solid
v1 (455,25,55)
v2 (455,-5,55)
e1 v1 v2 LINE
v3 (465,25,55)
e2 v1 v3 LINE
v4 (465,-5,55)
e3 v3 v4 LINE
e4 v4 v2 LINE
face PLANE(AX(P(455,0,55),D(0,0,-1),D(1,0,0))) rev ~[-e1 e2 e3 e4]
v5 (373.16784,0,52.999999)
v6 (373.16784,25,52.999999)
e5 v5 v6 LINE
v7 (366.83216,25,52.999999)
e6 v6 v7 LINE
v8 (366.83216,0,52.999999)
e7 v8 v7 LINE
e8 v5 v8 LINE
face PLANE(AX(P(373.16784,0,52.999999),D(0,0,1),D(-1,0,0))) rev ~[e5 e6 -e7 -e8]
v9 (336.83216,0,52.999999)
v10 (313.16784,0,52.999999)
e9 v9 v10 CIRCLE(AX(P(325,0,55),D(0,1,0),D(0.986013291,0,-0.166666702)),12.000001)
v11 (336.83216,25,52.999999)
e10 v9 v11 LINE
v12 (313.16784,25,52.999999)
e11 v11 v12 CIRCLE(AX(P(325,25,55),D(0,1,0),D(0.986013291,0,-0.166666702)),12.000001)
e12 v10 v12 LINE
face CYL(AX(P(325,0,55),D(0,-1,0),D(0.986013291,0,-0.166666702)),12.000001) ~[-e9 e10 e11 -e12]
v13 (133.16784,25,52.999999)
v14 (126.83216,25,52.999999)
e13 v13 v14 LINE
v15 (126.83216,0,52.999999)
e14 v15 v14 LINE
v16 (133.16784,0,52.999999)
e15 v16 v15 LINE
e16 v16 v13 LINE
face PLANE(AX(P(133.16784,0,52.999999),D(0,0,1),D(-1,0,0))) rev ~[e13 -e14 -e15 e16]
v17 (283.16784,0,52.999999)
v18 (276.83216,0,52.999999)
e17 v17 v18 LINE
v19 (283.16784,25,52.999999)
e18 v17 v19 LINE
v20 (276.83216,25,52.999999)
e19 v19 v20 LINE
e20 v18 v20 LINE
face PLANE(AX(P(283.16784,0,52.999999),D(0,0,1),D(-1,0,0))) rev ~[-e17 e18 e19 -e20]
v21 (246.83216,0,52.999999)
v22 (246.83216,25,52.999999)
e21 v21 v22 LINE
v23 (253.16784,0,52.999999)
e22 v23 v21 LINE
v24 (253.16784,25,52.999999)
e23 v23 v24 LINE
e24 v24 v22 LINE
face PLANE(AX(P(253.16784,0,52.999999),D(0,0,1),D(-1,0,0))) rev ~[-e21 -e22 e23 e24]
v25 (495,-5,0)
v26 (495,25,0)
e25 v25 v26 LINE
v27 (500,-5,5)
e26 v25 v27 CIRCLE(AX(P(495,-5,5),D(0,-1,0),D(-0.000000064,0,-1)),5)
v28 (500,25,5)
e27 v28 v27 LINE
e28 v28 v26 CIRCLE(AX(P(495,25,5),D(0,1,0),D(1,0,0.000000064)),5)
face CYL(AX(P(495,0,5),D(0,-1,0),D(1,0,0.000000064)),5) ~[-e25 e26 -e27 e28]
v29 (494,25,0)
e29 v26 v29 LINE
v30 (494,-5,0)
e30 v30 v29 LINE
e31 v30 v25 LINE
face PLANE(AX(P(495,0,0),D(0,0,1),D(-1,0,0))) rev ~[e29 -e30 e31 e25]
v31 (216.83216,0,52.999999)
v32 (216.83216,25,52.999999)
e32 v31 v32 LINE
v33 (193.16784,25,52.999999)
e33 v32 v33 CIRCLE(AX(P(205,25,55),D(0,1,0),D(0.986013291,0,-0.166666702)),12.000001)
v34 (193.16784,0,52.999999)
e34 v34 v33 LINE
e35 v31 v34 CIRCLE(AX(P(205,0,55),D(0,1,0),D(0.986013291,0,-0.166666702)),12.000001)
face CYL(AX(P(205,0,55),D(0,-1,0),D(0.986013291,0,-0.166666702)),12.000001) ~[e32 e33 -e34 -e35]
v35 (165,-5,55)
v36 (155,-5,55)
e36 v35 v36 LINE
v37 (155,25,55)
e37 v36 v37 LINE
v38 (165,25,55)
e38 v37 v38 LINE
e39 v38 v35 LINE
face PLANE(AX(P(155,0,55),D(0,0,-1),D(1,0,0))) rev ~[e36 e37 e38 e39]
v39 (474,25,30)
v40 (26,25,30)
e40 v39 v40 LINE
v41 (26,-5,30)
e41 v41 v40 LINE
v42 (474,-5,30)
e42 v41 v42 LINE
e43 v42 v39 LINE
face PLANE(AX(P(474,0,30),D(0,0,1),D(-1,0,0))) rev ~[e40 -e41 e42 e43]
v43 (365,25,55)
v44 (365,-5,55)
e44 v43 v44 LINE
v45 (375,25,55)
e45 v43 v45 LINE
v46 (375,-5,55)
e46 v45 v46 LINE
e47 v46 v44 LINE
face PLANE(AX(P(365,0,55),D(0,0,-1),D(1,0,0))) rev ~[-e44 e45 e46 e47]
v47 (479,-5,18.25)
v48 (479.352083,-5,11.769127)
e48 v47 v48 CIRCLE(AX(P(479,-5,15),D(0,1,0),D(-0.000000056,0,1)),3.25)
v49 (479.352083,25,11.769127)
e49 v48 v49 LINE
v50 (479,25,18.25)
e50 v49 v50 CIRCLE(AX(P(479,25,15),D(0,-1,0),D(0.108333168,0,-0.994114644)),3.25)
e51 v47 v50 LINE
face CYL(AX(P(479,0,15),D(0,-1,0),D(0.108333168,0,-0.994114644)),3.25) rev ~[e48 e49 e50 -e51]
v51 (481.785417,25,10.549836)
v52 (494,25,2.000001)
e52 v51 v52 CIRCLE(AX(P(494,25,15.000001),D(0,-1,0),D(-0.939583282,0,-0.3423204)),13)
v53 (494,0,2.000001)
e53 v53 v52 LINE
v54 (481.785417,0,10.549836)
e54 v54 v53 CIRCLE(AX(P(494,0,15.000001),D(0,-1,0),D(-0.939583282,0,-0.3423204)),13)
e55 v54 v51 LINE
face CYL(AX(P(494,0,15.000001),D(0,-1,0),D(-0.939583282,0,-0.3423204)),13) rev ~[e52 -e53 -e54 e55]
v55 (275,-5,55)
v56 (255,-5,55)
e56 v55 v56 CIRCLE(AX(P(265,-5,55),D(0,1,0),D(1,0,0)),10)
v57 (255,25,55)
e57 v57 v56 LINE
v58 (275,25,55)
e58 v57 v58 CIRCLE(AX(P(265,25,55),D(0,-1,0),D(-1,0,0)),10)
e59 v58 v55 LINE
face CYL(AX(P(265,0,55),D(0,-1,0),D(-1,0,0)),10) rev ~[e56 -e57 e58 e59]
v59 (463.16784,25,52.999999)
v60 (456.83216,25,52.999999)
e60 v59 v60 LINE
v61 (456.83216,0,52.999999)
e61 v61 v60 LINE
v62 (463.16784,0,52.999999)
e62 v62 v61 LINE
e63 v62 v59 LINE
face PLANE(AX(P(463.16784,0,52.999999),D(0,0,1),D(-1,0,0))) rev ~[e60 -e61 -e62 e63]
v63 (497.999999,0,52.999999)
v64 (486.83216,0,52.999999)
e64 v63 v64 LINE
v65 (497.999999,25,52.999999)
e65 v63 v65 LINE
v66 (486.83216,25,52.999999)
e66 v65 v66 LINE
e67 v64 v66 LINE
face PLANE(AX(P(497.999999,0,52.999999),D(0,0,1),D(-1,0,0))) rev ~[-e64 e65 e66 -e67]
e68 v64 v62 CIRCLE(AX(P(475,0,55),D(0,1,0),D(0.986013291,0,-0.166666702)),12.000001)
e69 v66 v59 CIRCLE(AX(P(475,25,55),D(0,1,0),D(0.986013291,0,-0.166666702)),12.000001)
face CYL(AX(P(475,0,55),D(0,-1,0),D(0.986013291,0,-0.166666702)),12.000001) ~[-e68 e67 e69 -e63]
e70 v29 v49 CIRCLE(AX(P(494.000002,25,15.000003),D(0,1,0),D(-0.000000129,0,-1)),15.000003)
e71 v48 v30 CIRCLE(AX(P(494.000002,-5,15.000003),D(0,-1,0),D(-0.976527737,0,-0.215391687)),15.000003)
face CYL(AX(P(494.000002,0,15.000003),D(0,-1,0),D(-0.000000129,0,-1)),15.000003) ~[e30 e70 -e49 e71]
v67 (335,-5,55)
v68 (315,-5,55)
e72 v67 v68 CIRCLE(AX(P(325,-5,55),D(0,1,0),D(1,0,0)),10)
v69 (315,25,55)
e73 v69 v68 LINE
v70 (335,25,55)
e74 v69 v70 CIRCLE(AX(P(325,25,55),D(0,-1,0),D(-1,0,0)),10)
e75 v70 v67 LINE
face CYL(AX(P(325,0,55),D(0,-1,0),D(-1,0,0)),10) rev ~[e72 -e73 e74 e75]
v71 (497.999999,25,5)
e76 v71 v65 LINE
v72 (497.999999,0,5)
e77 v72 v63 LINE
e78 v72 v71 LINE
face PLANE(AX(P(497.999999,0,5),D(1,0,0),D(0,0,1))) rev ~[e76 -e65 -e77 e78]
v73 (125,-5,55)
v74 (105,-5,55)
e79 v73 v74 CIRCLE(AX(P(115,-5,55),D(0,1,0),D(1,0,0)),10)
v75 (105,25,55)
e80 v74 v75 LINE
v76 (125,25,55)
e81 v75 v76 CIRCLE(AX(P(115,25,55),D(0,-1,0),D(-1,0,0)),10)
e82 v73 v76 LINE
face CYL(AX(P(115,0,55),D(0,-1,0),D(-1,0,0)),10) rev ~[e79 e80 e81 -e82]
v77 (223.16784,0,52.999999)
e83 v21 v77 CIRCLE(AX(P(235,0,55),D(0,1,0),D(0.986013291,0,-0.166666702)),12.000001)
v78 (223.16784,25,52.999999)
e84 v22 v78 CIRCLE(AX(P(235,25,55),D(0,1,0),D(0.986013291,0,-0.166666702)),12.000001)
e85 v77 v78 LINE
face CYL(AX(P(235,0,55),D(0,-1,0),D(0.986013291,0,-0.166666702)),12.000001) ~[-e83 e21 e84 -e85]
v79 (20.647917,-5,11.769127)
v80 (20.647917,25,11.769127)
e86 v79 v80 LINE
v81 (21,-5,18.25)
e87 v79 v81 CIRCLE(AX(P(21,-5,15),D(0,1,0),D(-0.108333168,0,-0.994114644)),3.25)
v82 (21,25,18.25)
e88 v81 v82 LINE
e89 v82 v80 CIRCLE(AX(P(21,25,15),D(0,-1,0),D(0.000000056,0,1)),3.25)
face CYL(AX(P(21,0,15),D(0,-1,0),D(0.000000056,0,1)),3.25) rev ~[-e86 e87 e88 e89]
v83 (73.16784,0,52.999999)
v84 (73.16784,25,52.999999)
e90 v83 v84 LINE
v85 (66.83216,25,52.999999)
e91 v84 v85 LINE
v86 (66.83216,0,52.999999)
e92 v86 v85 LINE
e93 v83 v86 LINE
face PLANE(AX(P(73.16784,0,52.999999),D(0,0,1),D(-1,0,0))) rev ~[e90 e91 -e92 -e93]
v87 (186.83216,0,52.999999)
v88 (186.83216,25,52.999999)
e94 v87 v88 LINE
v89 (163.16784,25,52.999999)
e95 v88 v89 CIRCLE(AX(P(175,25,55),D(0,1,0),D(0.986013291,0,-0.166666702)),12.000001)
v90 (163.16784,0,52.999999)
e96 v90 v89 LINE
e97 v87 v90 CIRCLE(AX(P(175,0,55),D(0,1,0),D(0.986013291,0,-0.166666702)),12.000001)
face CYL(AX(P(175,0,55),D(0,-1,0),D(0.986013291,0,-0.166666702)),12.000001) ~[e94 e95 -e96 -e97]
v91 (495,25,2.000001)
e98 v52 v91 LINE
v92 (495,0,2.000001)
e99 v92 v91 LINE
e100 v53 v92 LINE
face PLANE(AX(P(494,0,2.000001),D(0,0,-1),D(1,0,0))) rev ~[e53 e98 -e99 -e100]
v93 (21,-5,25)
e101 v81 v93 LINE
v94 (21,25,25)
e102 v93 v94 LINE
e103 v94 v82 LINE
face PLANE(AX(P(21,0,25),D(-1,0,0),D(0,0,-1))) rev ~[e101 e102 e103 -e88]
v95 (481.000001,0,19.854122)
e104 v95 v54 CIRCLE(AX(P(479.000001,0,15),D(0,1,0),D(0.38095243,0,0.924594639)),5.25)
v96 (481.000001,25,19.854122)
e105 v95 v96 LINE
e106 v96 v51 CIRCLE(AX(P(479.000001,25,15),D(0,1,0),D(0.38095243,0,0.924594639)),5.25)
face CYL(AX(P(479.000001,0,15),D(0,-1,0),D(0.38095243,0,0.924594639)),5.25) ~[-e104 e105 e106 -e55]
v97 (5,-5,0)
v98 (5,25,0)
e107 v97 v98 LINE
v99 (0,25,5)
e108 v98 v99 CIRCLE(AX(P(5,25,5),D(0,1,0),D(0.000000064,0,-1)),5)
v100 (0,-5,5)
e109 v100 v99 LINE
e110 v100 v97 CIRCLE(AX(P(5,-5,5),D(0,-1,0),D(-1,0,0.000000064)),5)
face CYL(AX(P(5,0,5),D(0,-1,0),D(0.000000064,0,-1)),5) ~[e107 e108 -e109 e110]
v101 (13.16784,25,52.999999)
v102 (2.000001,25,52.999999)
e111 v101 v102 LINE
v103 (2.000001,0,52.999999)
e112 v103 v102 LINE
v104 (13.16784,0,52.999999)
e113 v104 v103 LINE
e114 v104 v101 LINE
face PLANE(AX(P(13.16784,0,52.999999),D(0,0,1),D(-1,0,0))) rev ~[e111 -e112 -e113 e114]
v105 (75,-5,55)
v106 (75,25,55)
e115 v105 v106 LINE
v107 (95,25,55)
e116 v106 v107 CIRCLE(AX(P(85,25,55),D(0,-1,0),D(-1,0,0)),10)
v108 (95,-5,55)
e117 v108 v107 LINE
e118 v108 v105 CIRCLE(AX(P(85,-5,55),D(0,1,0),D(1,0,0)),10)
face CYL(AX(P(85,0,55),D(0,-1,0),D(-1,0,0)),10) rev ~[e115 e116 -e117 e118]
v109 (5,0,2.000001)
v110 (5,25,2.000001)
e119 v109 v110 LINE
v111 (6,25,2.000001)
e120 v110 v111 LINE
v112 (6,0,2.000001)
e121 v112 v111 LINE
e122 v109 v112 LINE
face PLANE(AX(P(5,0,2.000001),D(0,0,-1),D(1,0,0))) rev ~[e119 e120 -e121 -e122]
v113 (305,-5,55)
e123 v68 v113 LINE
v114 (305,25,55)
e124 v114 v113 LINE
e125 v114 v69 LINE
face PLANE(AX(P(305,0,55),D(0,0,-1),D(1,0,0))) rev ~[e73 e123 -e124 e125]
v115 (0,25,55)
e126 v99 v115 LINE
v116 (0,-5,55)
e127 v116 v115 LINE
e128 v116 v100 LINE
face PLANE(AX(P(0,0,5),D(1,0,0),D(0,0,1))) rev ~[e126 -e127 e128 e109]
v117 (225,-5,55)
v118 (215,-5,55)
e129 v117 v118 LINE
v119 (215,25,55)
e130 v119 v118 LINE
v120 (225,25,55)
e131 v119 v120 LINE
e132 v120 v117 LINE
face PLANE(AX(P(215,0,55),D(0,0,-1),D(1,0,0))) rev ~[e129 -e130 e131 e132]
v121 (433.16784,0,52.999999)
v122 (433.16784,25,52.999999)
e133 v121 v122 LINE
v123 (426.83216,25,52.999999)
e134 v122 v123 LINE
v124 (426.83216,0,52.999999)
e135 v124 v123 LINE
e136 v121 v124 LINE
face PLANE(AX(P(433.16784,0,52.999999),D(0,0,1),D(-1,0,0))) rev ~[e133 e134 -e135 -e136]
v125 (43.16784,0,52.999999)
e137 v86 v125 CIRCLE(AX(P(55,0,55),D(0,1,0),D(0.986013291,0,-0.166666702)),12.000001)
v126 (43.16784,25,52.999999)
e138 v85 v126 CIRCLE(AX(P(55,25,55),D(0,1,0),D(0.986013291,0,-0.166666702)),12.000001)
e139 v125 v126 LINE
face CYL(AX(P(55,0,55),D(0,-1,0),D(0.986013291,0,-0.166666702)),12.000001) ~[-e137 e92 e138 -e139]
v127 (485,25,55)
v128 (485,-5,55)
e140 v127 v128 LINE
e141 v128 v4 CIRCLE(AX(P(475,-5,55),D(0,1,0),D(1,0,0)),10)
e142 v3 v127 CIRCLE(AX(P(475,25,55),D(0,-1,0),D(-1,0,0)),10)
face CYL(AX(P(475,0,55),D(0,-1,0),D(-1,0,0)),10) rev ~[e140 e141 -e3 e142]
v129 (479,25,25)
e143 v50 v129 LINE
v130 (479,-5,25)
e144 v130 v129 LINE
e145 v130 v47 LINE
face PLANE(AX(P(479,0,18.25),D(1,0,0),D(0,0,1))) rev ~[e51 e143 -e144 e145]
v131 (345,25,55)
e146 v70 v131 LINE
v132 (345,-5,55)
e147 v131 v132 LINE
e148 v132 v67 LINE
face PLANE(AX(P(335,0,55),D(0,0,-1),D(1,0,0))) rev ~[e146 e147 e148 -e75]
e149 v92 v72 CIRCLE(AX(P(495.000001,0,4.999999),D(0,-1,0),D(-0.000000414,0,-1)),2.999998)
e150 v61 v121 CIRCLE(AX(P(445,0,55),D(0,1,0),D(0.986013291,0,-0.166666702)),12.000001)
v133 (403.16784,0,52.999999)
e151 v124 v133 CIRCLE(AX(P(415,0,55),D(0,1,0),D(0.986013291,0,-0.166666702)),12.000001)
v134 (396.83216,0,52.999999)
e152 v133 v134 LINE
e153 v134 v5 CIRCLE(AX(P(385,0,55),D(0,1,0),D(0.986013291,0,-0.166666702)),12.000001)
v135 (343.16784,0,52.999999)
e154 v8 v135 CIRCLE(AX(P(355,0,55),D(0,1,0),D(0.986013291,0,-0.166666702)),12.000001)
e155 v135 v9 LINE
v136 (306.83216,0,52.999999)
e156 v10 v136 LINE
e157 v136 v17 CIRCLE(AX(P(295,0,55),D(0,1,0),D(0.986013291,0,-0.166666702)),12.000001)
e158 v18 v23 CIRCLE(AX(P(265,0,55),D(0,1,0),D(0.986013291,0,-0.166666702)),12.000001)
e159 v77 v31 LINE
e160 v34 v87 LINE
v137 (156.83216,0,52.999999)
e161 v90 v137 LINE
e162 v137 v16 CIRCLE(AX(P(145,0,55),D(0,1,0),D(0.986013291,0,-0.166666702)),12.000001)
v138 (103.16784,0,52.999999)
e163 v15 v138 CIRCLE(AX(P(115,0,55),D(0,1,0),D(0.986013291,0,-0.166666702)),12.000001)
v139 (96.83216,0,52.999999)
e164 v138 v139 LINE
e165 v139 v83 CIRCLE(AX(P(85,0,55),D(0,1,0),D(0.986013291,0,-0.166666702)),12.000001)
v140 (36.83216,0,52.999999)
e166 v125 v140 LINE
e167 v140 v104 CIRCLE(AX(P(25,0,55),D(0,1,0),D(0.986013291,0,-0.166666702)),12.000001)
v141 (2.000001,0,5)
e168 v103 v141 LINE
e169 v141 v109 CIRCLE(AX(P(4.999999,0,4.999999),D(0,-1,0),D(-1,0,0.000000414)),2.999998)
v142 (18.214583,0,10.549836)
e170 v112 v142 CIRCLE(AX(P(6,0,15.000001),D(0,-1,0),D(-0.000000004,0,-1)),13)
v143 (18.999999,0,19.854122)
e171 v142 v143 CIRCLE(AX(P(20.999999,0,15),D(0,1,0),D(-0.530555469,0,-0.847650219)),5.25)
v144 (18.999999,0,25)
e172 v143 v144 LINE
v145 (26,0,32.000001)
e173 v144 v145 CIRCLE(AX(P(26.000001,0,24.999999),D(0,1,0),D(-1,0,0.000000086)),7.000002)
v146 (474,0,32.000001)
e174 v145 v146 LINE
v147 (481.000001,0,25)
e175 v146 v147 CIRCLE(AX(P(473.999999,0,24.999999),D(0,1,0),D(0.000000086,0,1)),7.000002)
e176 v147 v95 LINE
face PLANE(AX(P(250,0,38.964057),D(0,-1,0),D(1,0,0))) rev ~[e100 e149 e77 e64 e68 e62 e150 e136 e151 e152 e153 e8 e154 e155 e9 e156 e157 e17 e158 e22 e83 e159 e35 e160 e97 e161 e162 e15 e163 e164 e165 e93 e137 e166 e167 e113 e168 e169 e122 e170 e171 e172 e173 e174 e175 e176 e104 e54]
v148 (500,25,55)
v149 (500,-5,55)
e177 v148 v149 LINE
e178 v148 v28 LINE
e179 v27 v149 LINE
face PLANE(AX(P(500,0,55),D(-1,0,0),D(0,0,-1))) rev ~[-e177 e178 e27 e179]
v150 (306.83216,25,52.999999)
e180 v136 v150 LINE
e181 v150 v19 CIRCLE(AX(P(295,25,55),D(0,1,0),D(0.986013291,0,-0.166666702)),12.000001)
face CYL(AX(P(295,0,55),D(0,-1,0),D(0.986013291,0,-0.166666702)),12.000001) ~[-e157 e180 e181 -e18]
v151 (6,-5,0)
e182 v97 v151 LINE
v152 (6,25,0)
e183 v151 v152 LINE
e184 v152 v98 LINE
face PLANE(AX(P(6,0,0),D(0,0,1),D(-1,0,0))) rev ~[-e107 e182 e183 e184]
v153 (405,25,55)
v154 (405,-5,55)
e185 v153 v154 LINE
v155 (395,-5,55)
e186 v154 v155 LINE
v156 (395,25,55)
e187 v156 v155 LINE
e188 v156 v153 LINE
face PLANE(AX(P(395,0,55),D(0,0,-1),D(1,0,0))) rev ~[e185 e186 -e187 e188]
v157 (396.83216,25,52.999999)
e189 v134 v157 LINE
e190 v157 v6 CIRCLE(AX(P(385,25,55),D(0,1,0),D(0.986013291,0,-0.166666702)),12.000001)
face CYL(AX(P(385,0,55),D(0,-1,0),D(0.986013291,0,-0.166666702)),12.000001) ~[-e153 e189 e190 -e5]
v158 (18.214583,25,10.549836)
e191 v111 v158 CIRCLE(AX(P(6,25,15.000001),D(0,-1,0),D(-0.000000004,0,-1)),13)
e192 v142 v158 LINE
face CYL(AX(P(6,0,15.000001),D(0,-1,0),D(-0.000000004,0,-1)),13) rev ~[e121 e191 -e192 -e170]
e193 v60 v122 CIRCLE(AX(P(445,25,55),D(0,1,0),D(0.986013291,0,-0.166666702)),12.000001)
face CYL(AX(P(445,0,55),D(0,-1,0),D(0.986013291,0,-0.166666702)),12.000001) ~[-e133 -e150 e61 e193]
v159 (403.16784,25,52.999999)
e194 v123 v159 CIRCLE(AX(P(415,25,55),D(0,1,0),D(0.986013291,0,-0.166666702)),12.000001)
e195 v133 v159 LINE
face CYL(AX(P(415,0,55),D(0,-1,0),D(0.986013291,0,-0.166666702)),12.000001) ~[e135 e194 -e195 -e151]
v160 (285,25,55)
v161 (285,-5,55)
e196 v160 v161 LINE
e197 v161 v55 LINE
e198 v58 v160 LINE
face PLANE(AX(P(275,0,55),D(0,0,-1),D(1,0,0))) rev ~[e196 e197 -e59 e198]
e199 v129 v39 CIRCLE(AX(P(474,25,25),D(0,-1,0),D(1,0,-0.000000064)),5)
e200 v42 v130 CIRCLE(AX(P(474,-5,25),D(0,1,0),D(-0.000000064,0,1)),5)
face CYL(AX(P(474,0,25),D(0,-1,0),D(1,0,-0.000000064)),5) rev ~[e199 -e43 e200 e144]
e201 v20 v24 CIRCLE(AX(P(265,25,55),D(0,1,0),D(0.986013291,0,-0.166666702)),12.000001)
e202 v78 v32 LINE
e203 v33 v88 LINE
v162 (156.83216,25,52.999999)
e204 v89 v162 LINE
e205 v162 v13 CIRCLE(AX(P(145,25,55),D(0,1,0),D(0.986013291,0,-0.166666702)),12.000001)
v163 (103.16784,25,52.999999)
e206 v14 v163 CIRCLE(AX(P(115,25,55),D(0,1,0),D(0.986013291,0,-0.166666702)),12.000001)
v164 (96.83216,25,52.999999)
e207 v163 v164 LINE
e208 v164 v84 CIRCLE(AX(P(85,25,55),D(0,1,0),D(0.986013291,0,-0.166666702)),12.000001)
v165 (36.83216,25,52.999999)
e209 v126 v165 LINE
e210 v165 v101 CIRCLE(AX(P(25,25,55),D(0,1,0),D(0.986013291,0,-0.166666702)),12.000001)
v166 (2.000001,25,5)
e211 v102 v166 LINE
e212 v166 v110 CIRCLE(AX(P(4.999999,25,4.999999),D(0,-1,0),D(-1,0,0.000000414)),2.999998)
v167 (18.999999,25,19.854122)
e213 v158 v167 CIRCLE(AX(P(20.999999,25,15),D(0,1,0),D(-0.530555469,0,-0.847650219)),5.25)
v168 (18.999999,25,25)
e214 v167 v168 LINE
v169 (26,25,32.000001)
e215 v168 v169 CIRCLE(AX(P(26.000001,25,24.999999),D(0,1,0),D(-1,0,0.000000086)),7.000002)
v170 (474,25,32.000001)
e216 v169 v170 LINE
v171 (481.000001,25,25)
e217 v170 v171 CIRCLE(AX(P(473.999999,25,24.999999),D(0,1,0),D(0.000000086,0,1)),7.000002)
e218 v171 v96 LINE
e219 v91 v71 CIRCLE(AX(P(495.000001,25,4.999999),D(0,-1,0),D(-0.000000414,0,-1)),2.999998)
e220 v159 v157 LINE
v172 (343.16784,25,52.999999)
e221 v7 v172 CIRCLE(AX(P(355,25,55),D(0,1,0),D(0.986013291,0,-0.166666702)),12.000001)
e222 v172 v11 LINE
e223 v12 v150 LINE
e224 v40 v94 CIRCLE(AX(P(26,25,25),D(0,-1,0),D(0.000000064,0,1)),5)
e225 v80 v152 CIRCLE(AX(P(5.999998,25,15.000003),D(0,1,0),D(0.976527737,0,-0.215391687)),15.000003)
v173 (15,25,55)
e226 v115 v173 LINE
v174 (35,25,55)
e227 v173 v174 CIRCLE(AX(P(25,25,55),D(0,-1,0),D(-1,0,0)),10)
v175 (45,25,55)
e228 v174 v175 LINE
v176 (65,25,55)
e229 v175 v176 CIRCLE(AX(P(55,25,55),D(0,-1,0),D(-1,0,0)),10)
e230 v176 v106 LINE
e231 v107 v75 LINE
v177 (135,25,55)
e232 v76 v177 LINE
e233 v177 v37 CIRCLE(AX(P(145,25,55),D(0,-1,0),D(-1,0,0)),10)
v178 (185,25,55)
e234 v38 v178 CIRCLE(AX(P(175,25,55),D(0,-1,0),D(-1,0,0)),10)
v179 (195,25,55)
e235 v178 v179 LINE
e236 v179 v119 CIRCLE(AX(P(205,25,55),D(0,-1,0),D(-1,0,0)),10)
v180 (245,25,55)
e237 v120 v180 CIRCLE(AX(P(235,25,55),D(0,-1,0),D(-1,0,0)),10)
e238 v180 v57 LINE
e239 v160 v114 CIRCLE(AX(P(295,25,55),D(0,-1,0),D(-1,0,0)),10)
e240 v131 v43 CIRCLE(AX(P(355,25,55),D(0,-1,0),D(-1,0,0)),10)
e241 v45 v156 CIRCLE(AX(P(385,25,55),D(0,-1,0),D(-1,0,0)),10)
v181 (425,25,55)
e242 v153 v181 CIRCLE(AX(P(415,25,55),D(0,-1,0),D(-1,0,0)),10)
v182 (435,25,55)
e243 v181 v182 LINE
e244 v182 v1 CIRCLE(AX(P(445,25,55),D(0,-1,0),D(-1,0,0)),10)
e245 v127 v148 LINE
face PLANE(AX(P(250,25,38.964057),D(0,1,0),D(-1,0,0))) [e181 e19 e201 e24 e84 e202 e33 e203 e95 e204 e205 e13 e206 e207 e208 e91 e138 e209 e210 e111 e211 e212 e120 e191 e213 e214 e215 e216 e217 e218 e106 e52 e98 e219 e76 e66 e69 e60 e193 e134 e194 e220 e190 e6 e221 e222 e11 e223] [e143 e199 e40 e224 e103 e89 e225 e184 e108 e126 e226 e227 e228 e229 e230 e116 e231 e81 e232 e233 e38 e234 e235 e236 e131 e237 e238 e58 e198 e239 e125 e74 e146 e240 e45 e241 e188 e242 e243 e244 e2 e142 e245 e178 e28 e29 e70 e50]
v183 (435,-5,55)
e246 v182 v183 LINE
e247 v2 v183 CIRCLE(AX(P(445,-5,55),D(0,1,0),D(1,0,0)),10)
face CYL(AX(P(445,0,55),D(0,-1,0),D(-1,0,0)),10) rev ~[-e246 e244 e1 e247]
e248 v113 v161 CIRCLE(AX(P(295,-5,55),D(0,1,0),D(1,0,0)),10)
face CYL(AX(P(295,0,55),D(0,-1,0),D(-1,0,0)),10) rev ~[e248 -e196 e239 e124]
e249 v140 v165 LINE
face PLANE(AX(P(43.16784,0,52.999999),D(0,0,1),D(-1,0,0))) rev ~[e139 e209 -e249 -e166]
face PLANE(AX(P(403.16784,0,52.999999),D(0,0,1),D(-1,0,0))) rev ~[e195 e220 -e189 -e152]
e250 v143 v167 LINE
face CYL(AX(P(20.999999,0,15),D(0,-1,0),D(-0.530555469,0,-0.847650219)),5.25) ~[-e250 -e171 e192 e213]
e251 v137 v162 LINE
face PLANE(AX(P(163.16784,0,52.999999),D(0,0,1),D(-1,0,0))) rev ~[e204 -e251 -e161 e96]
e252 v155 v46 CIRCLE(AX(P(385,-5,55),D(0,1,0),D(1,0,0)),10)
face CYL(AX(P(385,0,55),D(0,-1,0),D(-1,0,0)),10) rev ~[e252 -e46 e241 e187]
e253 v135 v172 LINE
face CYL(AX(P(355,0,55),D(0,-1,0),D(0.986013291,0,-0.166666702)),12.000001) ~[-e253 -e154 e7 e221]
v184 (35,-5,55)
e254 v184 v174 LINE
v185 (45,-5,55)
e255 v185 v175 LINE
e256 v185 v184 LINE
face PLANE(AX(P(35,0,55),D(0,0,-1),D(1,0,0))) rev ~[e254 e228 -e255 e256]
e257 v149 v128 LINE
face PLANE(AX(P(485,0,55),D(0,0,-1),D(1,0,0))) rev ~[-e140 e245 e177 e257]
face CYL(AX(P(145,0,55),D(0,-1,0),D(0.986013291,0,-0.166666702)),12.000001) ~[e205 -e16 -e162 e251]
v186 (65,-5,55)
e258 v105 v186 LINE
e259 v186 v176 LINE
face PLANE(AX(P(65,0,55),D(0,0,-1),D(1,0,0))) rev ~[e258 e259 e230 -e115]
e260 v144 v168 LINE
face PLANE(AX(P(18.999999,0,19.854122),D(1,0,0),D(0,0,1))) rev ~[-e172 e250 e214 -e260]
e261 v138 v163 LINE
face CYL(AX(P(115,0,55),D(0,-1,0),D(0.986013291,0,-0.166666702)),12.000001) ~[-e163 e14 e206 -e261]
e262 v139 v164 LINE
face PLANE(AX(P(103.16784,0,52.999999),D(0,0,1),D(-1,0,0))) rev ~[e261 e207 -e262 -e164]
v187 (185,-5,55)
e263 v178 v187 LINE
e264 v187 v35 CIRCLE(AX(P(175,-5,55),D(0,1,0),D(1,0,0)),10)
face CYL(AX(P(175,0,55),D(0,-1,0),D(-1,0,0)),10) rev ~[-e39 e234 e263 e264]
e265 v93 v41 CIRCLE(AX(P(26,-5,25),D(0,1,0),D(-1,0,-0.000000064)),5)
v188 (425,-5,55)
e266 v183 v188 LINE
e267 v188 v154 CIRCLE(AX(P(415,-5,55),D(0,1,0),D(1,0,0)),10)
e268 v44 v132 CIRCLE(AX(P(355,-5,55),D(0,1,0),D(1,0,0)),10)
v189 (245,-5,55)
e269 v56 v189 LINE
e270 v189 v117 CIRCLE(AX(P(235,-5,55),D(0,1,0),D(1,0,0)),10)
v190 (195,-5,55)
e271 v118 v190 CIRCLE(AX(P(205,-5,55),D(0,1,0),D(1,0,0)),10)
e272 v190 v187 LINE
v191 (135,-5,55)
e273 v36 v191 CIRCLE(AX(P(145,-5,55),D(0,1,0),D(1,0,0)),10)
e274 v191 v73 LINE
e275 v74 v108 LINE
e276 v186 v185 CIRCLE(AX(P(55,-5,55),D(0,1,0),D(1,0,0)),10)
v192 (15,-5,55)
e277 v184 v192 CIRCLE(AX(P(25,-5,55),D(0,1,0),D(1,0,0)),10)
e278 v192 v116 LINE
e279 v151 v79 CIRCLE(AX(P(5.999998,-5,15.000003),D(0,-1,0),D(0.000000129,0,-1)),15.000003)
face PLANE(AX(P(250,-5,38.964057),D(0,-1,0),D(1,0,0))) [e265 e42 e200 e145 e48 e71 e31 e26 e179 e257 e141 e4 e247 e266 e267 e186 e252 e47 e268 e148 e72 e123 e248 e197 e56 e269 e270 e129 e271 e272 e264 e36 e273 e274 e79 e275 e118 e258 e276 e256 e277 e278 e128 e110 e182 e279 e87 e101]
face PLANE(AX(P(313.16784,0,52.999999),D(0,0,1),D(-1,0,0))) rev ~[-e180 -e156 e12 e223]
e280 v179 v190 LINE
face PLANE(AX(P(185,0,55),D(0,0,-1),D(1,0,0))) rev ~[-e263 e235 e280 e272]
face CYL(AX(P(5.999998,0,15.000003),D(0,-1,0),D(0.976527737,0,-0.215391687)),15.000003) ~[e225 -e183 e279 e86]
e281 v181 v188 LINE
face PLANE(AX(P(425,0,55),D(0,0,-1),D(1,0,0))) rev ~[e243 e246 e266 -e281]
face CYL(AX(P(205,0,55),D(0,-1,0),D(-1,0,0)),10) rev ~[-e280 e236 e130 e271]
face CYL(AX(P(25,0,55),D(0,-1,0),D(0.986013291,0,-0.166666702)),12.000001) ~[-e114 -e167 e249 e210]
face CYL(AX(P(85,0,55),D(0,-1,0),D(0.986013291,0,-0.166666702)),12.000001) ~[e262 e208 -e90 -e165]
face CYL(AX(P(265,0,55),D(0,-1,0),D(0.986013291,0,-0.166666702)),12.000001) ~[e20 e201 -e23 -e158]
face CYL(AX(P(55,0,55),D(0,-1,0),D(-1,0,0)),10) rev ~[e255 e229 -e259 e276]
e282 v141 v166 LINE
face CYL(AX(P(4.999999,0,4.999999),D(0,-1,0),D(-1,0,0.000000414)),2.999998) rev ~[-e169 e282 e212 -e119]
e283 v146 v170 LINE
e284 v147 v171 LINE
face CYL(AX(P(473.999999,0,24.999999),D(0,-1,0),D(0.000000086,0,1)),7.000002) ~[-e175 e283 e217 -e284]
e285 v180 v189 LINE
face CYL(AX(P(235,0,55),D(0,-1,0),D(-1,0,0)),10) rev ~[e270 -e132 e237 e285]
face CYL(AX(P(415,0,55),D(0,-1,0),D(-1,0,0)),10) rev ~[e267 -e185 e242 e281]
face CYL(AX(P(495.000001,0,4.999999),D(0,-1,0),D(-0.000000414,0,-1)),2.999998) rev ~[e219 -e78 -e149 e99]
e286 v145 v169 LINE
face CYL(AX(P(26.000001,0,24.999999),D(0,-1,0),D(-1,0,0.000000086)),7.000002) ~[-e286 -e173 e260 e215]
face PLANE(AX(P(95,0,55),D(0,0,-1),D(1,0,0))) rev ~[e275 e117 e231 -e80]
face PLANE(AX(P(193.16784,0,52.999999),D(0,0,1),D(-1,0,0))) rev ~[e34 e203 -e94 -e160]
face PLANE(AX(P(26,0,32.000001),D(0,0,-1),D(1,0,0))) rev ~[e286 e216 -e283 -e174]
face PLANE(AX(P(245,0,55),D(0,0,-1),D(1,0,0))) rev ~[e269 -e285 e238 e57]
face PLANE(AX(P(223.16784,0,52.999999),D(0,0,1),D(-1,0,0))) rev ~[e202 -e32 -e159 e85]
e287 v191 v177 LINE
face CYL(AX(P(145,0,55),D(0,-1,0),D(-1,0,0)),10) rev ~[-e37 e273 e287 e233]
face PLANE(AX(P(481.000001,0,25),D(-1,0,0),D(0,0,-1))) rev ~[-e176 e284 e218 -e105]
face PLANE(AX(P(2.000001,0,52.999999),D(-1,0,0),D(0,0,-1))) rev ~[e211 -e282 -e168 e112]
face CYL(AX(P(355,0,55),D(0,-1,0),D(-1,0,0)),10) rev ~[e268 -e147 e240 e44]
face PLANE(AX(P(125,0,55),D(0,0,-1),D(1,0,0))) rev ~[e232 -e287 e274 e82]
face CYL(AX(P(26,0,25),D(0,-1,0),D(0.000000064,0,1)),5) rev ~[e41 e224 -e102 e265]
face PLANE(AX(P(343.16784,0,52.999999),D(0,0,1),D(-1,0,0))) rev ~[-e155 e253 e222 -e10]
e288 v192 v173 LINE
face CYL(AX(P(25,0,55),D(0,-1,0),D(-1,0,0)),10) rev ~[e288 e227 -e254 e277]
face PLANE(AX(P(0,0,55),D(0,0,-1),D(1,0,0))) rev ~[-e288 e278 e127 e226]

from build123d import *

# Parameters (mm, degrees)
F1_DEPTH = 5
F3_DEPTH = 25


with BuildPart() as f1:
    # F0 (on Front) → F1 (new body)
    with BuildSketch(Plane.XZ):
        with BuildLine():
            ThreePointArc((0, 5), (1.464466, 1.464466), (5, 0))
            Line((5, 0), (6, 0))
            ThreePointArc((6, 0), (15.395129, 3.306774), (20.647917, 11.769127))
            ThreePointArc((20.647917, 11.769127), (17.754785, 15.176301), (21, 18.25))
            Line((21, 18.25), (21, 25))
            ThreePointArc((21, 25), (22.464466, 28.535534), (26, 30))
            Line((26, 30), (474, 30))
            ThreePointArc((474, 30), (477.535534, 28.535534), (479, 25))
            Line((479, 25), (479, 18.25))
            ThreePointArc((479, 18.25), (482.245215, 15.176301), (479.352083, 11.769127))
            ThreePointArc((479.352083, 11.769127), (484.604871, 3.306774), (494, 0))
            Line((494, 0), (495, 0))
            ThreePointArc((495, 0), (498.535534, 1.464466), (500, 5))
            Line((500, 5), (500, 55))
            Line((500, 55), (485, 55))
            ThreePointArc((485, 55), (475, 45), (465, 55))
            Line((465, 55), (455, 55))
            ThreePointArc((455, 55), (445, 45), (435, 55))
            Line((435, 55), (425, 55))
            ThreePointArc((425, 55), (415, 45), (405, 55))
            Line((405, 55), (395, 55))
            ThreePointArc((395, 55), (385, 45), (375, 55))
            Line((375, 55), (365, 55))
            ThreePointArc((365, 55), (355, 45), (345, 55))
            Line((345, 55), (335, 55))
            ThreePointArc((335, 55), (325, 45), (315, 55))
            Line((315, 55), (305, 55))
            ThreePointArc((305, 55), (295, 45), (285, 55))
            Line((285, 55), (275, 55))
            ThreePointArc((275, 55), (265, 45), (255, 55))
            Line((255, 55), (245, 55))
            ThreePointArc((245, 55), (235, 45), (225, 55))
            Line((225, 55), (215, 55))
            ThreePointArc((215, 55), (205, 45), (195, 55))
            Line((195, 55), (185, 55))
            ThreePointArc((185, 55), (175, 45), (165, 55))
            Line((165, 55), (155, 55))
            ThreePointArc((155, 55), (145, 45), (135, 55))
            Line((135, 55), (125, 55))
            ThreePointArc((125, 55), (115, 45), (105, 55))
            Line((105, 55), (95, 55))
            ThreePointArc((95, 55), (85, 45), (75, 55))
            Line((75, 55), (65, 55))
            ThreePointArc((65, 55), (55, 45), (45, 55))
            Line((45, 55), (35, 55))
            ThreePointArc((35, 55), (25, 45), (15, 55))
            Line((15, 55), (0, 55))
            Line((0, 55), (0, 5))
        make_face()
    extrude(amount=F1_DEPTH)

    # F2 (on face) → F3 (join)
    with BuildSketch(Plane(origin=(0, 0, 0), x_dir=(-1, 0, 0), z_dir=(0, 1, 0))):
        with BuildLine():
            ThreePointArc((-500, 5), (-498.535534, 1.464466), (-495, 0))
            Line((-495, 0), (-494, 0))
            ThreePointArc((-494, 0), (-484.604871, 3.306774), (-479.352083, 11.769127))
            ThreePointArc((-479.352083, 11.769127), (-482.245215, 15.176301), (-479, 18.25))
            Line((-479, 18.25), (-479, 25))
            ThreePointArc((-479, 25), (-477.535534, 28.535534), (-474, 30))
            Line((-474, 30), (-26, 30))
            ThreePointArc((-26, 30), (-22.464466, 28.535534), (-21, 25))
            Line((-21, 25), (-21, 18.25))
            ThreePointArc((-21, 18.25), (-17.754785, 15.176301), (-20.647917, 11.769127))
            ThreePointArc((-20.647917, 11.769127), (-15.395129, 3.306774), (-6, 0))
            Line((-6, 0), (-5, 0))
            ThreePointArc((-5, 0), (-1.464466, 1.464466), (0, 5))
            Line((0, 5), (0, 55))
            Line((0, 55), (-15, 55))
            ThreePointArc((-15, 55), (-25, 45), (-35, 55))
            Line((-35, 55), (-45, 55))
            ThreePointArc((-45, 55), (-55, 45), (-65, 55))
            Line((-65, 55), (-75, 55))
            ThreePointArc((-75, 55), (-85, 45), (-95, 55))
            Line((-95, 55), (-105, 55))
            ThreePointArc((-105, 55), (-115, 45), (-125, 55))
            Line((-125, 55), (-135, 55))
            ThreePointArc((-135, 55), (-145, 45), (-155, 55))
            Line((-155, 55), (-165, 55))
            ThreePointArc((-165, 55), (-175, 45), (-185, 55))
            Line((-185, 55), (-195, 55))
            ThreePointArc((-195, 55), (-205, 45), (-215, 55))
            Line((-215, 55), (-225, 55))
            ThreePointArc((-225, 55), (-235, 45), (-245, 55))
            Line((-245, 55), (-255, 55))
            ThreePointArc((-255, 55), (-265, 45), (-275, 55))
            Line((-275, 55), (-285, 55))
            ThreePointArc((-285, 55), (-295, 45), (-305, 55))
            Line((-305, 55), (-315, 55))
            ThreePointArc((-315, 55), (-325, 45), (-335, 55))
            Line((-335, 55), (-345, 55))
            ThreePointArc((-345, 55), (-355, 45), (-365, 55))
            Line((-365, 55), (-375, 55))
            ThreePointArc((-375, 55), (-385, 45), (-395, 55))
            Line((-395, 55), (-405, 55))
            ThreePointArc((-405, 55), (-415, 45), (-425, 55))
            Line((-425, 55), (-435, 55))
            ThreePointArc((-435, 55), (-445, 45), (-455, 55))
            Line((-455, 55), (-465, 55))
            ThreePointArc((-465, 55), (-475, 45), (-485, 55))
            Line((-485, 55), (-500, 55))
            Line((-500, 55), (-500, 5))
        make_face()
        with BuildLine():
            Line((-343.16784, 52.999999), (-336.83216, 52.999999))
            ThreePointArc((-336.83216, 52.999999), (-325, 42.999999), (-313.16784, 52.999999))
            Line((-313.16784, 52.999999), (-306.83216, 52.999999))
            ThreePointArc((-306.83216, 52.999999), (-295, 42.999999), (-283.16784, 52.999999))
            Line((-283.16784, 52.999999), (-276.83216, 52.999999))
            ThreePointArc((-276.83216, 52.999999), (-265, 42.999999), (-253.16784, 52.999999))
            Line((-253.16784, 52.999999), (-246.83216, 52.999999))
            ThreePointArc((-246.83216, 52.999999), (-235, 42.999999), (-223.16784, 52.999999))
            Line((-223.16784, 52.999999), (-216.83216, 52.999999))
            ThreePointArc((-216.83216, 52.999999), (-205, 42.999999), (-193.16784, 52.999999))
            Line((-193.16784, 52.999999), (-186.83216, 52.999999))
            ThreePointArc((-186.83216, 52.999999), (-175, 42.999999), (-163.16784, 52.999999))
            Line((-163.16784, 52.999999), (-156.83216, 52.999999))
            ThreePointArc((-156.83216, 52.999999), (-145, 42.999999), (-133.16784, 52.999999))
            Line((-133.16784, 52.999999), (-126.83216, 52.999999))
            ThreePointArc((-126.83216, 52.999999), (-115, 42.999999), (-103.16784, 52.999999))
            Line((-103.16784, 52.999999), (-96.83216, 52.999999))
            ThreePointArc((-96.83216, 52.999999), (-85, 42.999999), (-73.16784, 52.999999))
            Line((-73.16784, 52.999999), (-66.83216, 52.999999))
            ThreePointArc((-66.83216, 52.999999), (-55, 42.999999), (-43.16784, 52.999999))
            Line((-43.16784, 52.999999), (-36.83216, 52.999999))
            ThreePointArc((-36.83216, 52.999999), (-25, 42.999999), (-13.16784, 52.999999))
            Line((-13.16784, 52.999999), (-2.000001, 52.999999))
            Line((-2.000001, 52.999999), (-2.000001, 5))
            ThreePointArc((-2.000001, 5), (-2.87868, 2.87868), (-5, 2.000001))
            Line((-5, 2.000001), (-6, 2.000001))
            ThreePointArc((-6, 2.000001), (-13.454792, 4.349833), (-18.214583, 10.549836))
            ThreePointArc((-18.214583, 10.549836), (-15.768605, 15.441606), (-18.999999, 19.854122))
            Line((-18.999999, 19.854122), (-18.999999, 25))
            ThreePointArc((-18.999999, 25), (-21.050252, 29.949748), (-26, 32.000001))
            Line((-26, 32.000001), (-474, 32.000001))
            ThreePointArc((-474, 32.000001), (-478.949748, 29.949748), (-481.000001, 25))
            Line((-481.000001, 25), (-481.000001, 19.854122))
            ThreePointArc((-481.000001, 19.854122), (-484.231395, 15.441606), (-481.785417, 10.549836))
            ThreePointArc((-481.785417, 10.549836), (-486.545208, 4.349833), (-494, 2.000001))
            Line((-494, 2.000001), (-495, 2.000001))
            ThreePointArc((-495, 2.000001), (-497.12132, 2.87868), (-497.999999, 5))
            Line((-497.999999, 5), (-497.999999, 52.999999))
            Line((-497.999999, 52.999999), (-486.83216, 52.999999))
            ThreePointArc((-486.83216, 52.999999), (-475, 42.999999), (-463.16784, 52.999999))
            Line((-463.16784, 52.999999), (-456.83216, 52.999999))
            ThreePointArc((-456.83216, 52.999999), (-445, 42.999999), (-433.16784, 52.999999))
            Line((-433.16784, 52.999999), (-426.83216, 52.999999))
            ThreePointArc((-426.83216, 52.999999), (-415, 42.999999), (-403.16784, 52.999999))
            Line((-403.16784, 52.999999), (-396.83216, 52.999999))
            ThreePointArc((-396.83216, 52.999999), (-385, 42.999999), (-373.16784, 52.999999))
            Line((-373.16784, 52.999999), (-366.83216, 52.999999))
            ThreePointArc((-366.83216, 52.999999), (-355, 42.999999), (-343.16784, 52.999999))
        make_face(mode=Mode.SUBTRACT)
    extrude(amount=F3_DEPTH)


solid = f1.part
